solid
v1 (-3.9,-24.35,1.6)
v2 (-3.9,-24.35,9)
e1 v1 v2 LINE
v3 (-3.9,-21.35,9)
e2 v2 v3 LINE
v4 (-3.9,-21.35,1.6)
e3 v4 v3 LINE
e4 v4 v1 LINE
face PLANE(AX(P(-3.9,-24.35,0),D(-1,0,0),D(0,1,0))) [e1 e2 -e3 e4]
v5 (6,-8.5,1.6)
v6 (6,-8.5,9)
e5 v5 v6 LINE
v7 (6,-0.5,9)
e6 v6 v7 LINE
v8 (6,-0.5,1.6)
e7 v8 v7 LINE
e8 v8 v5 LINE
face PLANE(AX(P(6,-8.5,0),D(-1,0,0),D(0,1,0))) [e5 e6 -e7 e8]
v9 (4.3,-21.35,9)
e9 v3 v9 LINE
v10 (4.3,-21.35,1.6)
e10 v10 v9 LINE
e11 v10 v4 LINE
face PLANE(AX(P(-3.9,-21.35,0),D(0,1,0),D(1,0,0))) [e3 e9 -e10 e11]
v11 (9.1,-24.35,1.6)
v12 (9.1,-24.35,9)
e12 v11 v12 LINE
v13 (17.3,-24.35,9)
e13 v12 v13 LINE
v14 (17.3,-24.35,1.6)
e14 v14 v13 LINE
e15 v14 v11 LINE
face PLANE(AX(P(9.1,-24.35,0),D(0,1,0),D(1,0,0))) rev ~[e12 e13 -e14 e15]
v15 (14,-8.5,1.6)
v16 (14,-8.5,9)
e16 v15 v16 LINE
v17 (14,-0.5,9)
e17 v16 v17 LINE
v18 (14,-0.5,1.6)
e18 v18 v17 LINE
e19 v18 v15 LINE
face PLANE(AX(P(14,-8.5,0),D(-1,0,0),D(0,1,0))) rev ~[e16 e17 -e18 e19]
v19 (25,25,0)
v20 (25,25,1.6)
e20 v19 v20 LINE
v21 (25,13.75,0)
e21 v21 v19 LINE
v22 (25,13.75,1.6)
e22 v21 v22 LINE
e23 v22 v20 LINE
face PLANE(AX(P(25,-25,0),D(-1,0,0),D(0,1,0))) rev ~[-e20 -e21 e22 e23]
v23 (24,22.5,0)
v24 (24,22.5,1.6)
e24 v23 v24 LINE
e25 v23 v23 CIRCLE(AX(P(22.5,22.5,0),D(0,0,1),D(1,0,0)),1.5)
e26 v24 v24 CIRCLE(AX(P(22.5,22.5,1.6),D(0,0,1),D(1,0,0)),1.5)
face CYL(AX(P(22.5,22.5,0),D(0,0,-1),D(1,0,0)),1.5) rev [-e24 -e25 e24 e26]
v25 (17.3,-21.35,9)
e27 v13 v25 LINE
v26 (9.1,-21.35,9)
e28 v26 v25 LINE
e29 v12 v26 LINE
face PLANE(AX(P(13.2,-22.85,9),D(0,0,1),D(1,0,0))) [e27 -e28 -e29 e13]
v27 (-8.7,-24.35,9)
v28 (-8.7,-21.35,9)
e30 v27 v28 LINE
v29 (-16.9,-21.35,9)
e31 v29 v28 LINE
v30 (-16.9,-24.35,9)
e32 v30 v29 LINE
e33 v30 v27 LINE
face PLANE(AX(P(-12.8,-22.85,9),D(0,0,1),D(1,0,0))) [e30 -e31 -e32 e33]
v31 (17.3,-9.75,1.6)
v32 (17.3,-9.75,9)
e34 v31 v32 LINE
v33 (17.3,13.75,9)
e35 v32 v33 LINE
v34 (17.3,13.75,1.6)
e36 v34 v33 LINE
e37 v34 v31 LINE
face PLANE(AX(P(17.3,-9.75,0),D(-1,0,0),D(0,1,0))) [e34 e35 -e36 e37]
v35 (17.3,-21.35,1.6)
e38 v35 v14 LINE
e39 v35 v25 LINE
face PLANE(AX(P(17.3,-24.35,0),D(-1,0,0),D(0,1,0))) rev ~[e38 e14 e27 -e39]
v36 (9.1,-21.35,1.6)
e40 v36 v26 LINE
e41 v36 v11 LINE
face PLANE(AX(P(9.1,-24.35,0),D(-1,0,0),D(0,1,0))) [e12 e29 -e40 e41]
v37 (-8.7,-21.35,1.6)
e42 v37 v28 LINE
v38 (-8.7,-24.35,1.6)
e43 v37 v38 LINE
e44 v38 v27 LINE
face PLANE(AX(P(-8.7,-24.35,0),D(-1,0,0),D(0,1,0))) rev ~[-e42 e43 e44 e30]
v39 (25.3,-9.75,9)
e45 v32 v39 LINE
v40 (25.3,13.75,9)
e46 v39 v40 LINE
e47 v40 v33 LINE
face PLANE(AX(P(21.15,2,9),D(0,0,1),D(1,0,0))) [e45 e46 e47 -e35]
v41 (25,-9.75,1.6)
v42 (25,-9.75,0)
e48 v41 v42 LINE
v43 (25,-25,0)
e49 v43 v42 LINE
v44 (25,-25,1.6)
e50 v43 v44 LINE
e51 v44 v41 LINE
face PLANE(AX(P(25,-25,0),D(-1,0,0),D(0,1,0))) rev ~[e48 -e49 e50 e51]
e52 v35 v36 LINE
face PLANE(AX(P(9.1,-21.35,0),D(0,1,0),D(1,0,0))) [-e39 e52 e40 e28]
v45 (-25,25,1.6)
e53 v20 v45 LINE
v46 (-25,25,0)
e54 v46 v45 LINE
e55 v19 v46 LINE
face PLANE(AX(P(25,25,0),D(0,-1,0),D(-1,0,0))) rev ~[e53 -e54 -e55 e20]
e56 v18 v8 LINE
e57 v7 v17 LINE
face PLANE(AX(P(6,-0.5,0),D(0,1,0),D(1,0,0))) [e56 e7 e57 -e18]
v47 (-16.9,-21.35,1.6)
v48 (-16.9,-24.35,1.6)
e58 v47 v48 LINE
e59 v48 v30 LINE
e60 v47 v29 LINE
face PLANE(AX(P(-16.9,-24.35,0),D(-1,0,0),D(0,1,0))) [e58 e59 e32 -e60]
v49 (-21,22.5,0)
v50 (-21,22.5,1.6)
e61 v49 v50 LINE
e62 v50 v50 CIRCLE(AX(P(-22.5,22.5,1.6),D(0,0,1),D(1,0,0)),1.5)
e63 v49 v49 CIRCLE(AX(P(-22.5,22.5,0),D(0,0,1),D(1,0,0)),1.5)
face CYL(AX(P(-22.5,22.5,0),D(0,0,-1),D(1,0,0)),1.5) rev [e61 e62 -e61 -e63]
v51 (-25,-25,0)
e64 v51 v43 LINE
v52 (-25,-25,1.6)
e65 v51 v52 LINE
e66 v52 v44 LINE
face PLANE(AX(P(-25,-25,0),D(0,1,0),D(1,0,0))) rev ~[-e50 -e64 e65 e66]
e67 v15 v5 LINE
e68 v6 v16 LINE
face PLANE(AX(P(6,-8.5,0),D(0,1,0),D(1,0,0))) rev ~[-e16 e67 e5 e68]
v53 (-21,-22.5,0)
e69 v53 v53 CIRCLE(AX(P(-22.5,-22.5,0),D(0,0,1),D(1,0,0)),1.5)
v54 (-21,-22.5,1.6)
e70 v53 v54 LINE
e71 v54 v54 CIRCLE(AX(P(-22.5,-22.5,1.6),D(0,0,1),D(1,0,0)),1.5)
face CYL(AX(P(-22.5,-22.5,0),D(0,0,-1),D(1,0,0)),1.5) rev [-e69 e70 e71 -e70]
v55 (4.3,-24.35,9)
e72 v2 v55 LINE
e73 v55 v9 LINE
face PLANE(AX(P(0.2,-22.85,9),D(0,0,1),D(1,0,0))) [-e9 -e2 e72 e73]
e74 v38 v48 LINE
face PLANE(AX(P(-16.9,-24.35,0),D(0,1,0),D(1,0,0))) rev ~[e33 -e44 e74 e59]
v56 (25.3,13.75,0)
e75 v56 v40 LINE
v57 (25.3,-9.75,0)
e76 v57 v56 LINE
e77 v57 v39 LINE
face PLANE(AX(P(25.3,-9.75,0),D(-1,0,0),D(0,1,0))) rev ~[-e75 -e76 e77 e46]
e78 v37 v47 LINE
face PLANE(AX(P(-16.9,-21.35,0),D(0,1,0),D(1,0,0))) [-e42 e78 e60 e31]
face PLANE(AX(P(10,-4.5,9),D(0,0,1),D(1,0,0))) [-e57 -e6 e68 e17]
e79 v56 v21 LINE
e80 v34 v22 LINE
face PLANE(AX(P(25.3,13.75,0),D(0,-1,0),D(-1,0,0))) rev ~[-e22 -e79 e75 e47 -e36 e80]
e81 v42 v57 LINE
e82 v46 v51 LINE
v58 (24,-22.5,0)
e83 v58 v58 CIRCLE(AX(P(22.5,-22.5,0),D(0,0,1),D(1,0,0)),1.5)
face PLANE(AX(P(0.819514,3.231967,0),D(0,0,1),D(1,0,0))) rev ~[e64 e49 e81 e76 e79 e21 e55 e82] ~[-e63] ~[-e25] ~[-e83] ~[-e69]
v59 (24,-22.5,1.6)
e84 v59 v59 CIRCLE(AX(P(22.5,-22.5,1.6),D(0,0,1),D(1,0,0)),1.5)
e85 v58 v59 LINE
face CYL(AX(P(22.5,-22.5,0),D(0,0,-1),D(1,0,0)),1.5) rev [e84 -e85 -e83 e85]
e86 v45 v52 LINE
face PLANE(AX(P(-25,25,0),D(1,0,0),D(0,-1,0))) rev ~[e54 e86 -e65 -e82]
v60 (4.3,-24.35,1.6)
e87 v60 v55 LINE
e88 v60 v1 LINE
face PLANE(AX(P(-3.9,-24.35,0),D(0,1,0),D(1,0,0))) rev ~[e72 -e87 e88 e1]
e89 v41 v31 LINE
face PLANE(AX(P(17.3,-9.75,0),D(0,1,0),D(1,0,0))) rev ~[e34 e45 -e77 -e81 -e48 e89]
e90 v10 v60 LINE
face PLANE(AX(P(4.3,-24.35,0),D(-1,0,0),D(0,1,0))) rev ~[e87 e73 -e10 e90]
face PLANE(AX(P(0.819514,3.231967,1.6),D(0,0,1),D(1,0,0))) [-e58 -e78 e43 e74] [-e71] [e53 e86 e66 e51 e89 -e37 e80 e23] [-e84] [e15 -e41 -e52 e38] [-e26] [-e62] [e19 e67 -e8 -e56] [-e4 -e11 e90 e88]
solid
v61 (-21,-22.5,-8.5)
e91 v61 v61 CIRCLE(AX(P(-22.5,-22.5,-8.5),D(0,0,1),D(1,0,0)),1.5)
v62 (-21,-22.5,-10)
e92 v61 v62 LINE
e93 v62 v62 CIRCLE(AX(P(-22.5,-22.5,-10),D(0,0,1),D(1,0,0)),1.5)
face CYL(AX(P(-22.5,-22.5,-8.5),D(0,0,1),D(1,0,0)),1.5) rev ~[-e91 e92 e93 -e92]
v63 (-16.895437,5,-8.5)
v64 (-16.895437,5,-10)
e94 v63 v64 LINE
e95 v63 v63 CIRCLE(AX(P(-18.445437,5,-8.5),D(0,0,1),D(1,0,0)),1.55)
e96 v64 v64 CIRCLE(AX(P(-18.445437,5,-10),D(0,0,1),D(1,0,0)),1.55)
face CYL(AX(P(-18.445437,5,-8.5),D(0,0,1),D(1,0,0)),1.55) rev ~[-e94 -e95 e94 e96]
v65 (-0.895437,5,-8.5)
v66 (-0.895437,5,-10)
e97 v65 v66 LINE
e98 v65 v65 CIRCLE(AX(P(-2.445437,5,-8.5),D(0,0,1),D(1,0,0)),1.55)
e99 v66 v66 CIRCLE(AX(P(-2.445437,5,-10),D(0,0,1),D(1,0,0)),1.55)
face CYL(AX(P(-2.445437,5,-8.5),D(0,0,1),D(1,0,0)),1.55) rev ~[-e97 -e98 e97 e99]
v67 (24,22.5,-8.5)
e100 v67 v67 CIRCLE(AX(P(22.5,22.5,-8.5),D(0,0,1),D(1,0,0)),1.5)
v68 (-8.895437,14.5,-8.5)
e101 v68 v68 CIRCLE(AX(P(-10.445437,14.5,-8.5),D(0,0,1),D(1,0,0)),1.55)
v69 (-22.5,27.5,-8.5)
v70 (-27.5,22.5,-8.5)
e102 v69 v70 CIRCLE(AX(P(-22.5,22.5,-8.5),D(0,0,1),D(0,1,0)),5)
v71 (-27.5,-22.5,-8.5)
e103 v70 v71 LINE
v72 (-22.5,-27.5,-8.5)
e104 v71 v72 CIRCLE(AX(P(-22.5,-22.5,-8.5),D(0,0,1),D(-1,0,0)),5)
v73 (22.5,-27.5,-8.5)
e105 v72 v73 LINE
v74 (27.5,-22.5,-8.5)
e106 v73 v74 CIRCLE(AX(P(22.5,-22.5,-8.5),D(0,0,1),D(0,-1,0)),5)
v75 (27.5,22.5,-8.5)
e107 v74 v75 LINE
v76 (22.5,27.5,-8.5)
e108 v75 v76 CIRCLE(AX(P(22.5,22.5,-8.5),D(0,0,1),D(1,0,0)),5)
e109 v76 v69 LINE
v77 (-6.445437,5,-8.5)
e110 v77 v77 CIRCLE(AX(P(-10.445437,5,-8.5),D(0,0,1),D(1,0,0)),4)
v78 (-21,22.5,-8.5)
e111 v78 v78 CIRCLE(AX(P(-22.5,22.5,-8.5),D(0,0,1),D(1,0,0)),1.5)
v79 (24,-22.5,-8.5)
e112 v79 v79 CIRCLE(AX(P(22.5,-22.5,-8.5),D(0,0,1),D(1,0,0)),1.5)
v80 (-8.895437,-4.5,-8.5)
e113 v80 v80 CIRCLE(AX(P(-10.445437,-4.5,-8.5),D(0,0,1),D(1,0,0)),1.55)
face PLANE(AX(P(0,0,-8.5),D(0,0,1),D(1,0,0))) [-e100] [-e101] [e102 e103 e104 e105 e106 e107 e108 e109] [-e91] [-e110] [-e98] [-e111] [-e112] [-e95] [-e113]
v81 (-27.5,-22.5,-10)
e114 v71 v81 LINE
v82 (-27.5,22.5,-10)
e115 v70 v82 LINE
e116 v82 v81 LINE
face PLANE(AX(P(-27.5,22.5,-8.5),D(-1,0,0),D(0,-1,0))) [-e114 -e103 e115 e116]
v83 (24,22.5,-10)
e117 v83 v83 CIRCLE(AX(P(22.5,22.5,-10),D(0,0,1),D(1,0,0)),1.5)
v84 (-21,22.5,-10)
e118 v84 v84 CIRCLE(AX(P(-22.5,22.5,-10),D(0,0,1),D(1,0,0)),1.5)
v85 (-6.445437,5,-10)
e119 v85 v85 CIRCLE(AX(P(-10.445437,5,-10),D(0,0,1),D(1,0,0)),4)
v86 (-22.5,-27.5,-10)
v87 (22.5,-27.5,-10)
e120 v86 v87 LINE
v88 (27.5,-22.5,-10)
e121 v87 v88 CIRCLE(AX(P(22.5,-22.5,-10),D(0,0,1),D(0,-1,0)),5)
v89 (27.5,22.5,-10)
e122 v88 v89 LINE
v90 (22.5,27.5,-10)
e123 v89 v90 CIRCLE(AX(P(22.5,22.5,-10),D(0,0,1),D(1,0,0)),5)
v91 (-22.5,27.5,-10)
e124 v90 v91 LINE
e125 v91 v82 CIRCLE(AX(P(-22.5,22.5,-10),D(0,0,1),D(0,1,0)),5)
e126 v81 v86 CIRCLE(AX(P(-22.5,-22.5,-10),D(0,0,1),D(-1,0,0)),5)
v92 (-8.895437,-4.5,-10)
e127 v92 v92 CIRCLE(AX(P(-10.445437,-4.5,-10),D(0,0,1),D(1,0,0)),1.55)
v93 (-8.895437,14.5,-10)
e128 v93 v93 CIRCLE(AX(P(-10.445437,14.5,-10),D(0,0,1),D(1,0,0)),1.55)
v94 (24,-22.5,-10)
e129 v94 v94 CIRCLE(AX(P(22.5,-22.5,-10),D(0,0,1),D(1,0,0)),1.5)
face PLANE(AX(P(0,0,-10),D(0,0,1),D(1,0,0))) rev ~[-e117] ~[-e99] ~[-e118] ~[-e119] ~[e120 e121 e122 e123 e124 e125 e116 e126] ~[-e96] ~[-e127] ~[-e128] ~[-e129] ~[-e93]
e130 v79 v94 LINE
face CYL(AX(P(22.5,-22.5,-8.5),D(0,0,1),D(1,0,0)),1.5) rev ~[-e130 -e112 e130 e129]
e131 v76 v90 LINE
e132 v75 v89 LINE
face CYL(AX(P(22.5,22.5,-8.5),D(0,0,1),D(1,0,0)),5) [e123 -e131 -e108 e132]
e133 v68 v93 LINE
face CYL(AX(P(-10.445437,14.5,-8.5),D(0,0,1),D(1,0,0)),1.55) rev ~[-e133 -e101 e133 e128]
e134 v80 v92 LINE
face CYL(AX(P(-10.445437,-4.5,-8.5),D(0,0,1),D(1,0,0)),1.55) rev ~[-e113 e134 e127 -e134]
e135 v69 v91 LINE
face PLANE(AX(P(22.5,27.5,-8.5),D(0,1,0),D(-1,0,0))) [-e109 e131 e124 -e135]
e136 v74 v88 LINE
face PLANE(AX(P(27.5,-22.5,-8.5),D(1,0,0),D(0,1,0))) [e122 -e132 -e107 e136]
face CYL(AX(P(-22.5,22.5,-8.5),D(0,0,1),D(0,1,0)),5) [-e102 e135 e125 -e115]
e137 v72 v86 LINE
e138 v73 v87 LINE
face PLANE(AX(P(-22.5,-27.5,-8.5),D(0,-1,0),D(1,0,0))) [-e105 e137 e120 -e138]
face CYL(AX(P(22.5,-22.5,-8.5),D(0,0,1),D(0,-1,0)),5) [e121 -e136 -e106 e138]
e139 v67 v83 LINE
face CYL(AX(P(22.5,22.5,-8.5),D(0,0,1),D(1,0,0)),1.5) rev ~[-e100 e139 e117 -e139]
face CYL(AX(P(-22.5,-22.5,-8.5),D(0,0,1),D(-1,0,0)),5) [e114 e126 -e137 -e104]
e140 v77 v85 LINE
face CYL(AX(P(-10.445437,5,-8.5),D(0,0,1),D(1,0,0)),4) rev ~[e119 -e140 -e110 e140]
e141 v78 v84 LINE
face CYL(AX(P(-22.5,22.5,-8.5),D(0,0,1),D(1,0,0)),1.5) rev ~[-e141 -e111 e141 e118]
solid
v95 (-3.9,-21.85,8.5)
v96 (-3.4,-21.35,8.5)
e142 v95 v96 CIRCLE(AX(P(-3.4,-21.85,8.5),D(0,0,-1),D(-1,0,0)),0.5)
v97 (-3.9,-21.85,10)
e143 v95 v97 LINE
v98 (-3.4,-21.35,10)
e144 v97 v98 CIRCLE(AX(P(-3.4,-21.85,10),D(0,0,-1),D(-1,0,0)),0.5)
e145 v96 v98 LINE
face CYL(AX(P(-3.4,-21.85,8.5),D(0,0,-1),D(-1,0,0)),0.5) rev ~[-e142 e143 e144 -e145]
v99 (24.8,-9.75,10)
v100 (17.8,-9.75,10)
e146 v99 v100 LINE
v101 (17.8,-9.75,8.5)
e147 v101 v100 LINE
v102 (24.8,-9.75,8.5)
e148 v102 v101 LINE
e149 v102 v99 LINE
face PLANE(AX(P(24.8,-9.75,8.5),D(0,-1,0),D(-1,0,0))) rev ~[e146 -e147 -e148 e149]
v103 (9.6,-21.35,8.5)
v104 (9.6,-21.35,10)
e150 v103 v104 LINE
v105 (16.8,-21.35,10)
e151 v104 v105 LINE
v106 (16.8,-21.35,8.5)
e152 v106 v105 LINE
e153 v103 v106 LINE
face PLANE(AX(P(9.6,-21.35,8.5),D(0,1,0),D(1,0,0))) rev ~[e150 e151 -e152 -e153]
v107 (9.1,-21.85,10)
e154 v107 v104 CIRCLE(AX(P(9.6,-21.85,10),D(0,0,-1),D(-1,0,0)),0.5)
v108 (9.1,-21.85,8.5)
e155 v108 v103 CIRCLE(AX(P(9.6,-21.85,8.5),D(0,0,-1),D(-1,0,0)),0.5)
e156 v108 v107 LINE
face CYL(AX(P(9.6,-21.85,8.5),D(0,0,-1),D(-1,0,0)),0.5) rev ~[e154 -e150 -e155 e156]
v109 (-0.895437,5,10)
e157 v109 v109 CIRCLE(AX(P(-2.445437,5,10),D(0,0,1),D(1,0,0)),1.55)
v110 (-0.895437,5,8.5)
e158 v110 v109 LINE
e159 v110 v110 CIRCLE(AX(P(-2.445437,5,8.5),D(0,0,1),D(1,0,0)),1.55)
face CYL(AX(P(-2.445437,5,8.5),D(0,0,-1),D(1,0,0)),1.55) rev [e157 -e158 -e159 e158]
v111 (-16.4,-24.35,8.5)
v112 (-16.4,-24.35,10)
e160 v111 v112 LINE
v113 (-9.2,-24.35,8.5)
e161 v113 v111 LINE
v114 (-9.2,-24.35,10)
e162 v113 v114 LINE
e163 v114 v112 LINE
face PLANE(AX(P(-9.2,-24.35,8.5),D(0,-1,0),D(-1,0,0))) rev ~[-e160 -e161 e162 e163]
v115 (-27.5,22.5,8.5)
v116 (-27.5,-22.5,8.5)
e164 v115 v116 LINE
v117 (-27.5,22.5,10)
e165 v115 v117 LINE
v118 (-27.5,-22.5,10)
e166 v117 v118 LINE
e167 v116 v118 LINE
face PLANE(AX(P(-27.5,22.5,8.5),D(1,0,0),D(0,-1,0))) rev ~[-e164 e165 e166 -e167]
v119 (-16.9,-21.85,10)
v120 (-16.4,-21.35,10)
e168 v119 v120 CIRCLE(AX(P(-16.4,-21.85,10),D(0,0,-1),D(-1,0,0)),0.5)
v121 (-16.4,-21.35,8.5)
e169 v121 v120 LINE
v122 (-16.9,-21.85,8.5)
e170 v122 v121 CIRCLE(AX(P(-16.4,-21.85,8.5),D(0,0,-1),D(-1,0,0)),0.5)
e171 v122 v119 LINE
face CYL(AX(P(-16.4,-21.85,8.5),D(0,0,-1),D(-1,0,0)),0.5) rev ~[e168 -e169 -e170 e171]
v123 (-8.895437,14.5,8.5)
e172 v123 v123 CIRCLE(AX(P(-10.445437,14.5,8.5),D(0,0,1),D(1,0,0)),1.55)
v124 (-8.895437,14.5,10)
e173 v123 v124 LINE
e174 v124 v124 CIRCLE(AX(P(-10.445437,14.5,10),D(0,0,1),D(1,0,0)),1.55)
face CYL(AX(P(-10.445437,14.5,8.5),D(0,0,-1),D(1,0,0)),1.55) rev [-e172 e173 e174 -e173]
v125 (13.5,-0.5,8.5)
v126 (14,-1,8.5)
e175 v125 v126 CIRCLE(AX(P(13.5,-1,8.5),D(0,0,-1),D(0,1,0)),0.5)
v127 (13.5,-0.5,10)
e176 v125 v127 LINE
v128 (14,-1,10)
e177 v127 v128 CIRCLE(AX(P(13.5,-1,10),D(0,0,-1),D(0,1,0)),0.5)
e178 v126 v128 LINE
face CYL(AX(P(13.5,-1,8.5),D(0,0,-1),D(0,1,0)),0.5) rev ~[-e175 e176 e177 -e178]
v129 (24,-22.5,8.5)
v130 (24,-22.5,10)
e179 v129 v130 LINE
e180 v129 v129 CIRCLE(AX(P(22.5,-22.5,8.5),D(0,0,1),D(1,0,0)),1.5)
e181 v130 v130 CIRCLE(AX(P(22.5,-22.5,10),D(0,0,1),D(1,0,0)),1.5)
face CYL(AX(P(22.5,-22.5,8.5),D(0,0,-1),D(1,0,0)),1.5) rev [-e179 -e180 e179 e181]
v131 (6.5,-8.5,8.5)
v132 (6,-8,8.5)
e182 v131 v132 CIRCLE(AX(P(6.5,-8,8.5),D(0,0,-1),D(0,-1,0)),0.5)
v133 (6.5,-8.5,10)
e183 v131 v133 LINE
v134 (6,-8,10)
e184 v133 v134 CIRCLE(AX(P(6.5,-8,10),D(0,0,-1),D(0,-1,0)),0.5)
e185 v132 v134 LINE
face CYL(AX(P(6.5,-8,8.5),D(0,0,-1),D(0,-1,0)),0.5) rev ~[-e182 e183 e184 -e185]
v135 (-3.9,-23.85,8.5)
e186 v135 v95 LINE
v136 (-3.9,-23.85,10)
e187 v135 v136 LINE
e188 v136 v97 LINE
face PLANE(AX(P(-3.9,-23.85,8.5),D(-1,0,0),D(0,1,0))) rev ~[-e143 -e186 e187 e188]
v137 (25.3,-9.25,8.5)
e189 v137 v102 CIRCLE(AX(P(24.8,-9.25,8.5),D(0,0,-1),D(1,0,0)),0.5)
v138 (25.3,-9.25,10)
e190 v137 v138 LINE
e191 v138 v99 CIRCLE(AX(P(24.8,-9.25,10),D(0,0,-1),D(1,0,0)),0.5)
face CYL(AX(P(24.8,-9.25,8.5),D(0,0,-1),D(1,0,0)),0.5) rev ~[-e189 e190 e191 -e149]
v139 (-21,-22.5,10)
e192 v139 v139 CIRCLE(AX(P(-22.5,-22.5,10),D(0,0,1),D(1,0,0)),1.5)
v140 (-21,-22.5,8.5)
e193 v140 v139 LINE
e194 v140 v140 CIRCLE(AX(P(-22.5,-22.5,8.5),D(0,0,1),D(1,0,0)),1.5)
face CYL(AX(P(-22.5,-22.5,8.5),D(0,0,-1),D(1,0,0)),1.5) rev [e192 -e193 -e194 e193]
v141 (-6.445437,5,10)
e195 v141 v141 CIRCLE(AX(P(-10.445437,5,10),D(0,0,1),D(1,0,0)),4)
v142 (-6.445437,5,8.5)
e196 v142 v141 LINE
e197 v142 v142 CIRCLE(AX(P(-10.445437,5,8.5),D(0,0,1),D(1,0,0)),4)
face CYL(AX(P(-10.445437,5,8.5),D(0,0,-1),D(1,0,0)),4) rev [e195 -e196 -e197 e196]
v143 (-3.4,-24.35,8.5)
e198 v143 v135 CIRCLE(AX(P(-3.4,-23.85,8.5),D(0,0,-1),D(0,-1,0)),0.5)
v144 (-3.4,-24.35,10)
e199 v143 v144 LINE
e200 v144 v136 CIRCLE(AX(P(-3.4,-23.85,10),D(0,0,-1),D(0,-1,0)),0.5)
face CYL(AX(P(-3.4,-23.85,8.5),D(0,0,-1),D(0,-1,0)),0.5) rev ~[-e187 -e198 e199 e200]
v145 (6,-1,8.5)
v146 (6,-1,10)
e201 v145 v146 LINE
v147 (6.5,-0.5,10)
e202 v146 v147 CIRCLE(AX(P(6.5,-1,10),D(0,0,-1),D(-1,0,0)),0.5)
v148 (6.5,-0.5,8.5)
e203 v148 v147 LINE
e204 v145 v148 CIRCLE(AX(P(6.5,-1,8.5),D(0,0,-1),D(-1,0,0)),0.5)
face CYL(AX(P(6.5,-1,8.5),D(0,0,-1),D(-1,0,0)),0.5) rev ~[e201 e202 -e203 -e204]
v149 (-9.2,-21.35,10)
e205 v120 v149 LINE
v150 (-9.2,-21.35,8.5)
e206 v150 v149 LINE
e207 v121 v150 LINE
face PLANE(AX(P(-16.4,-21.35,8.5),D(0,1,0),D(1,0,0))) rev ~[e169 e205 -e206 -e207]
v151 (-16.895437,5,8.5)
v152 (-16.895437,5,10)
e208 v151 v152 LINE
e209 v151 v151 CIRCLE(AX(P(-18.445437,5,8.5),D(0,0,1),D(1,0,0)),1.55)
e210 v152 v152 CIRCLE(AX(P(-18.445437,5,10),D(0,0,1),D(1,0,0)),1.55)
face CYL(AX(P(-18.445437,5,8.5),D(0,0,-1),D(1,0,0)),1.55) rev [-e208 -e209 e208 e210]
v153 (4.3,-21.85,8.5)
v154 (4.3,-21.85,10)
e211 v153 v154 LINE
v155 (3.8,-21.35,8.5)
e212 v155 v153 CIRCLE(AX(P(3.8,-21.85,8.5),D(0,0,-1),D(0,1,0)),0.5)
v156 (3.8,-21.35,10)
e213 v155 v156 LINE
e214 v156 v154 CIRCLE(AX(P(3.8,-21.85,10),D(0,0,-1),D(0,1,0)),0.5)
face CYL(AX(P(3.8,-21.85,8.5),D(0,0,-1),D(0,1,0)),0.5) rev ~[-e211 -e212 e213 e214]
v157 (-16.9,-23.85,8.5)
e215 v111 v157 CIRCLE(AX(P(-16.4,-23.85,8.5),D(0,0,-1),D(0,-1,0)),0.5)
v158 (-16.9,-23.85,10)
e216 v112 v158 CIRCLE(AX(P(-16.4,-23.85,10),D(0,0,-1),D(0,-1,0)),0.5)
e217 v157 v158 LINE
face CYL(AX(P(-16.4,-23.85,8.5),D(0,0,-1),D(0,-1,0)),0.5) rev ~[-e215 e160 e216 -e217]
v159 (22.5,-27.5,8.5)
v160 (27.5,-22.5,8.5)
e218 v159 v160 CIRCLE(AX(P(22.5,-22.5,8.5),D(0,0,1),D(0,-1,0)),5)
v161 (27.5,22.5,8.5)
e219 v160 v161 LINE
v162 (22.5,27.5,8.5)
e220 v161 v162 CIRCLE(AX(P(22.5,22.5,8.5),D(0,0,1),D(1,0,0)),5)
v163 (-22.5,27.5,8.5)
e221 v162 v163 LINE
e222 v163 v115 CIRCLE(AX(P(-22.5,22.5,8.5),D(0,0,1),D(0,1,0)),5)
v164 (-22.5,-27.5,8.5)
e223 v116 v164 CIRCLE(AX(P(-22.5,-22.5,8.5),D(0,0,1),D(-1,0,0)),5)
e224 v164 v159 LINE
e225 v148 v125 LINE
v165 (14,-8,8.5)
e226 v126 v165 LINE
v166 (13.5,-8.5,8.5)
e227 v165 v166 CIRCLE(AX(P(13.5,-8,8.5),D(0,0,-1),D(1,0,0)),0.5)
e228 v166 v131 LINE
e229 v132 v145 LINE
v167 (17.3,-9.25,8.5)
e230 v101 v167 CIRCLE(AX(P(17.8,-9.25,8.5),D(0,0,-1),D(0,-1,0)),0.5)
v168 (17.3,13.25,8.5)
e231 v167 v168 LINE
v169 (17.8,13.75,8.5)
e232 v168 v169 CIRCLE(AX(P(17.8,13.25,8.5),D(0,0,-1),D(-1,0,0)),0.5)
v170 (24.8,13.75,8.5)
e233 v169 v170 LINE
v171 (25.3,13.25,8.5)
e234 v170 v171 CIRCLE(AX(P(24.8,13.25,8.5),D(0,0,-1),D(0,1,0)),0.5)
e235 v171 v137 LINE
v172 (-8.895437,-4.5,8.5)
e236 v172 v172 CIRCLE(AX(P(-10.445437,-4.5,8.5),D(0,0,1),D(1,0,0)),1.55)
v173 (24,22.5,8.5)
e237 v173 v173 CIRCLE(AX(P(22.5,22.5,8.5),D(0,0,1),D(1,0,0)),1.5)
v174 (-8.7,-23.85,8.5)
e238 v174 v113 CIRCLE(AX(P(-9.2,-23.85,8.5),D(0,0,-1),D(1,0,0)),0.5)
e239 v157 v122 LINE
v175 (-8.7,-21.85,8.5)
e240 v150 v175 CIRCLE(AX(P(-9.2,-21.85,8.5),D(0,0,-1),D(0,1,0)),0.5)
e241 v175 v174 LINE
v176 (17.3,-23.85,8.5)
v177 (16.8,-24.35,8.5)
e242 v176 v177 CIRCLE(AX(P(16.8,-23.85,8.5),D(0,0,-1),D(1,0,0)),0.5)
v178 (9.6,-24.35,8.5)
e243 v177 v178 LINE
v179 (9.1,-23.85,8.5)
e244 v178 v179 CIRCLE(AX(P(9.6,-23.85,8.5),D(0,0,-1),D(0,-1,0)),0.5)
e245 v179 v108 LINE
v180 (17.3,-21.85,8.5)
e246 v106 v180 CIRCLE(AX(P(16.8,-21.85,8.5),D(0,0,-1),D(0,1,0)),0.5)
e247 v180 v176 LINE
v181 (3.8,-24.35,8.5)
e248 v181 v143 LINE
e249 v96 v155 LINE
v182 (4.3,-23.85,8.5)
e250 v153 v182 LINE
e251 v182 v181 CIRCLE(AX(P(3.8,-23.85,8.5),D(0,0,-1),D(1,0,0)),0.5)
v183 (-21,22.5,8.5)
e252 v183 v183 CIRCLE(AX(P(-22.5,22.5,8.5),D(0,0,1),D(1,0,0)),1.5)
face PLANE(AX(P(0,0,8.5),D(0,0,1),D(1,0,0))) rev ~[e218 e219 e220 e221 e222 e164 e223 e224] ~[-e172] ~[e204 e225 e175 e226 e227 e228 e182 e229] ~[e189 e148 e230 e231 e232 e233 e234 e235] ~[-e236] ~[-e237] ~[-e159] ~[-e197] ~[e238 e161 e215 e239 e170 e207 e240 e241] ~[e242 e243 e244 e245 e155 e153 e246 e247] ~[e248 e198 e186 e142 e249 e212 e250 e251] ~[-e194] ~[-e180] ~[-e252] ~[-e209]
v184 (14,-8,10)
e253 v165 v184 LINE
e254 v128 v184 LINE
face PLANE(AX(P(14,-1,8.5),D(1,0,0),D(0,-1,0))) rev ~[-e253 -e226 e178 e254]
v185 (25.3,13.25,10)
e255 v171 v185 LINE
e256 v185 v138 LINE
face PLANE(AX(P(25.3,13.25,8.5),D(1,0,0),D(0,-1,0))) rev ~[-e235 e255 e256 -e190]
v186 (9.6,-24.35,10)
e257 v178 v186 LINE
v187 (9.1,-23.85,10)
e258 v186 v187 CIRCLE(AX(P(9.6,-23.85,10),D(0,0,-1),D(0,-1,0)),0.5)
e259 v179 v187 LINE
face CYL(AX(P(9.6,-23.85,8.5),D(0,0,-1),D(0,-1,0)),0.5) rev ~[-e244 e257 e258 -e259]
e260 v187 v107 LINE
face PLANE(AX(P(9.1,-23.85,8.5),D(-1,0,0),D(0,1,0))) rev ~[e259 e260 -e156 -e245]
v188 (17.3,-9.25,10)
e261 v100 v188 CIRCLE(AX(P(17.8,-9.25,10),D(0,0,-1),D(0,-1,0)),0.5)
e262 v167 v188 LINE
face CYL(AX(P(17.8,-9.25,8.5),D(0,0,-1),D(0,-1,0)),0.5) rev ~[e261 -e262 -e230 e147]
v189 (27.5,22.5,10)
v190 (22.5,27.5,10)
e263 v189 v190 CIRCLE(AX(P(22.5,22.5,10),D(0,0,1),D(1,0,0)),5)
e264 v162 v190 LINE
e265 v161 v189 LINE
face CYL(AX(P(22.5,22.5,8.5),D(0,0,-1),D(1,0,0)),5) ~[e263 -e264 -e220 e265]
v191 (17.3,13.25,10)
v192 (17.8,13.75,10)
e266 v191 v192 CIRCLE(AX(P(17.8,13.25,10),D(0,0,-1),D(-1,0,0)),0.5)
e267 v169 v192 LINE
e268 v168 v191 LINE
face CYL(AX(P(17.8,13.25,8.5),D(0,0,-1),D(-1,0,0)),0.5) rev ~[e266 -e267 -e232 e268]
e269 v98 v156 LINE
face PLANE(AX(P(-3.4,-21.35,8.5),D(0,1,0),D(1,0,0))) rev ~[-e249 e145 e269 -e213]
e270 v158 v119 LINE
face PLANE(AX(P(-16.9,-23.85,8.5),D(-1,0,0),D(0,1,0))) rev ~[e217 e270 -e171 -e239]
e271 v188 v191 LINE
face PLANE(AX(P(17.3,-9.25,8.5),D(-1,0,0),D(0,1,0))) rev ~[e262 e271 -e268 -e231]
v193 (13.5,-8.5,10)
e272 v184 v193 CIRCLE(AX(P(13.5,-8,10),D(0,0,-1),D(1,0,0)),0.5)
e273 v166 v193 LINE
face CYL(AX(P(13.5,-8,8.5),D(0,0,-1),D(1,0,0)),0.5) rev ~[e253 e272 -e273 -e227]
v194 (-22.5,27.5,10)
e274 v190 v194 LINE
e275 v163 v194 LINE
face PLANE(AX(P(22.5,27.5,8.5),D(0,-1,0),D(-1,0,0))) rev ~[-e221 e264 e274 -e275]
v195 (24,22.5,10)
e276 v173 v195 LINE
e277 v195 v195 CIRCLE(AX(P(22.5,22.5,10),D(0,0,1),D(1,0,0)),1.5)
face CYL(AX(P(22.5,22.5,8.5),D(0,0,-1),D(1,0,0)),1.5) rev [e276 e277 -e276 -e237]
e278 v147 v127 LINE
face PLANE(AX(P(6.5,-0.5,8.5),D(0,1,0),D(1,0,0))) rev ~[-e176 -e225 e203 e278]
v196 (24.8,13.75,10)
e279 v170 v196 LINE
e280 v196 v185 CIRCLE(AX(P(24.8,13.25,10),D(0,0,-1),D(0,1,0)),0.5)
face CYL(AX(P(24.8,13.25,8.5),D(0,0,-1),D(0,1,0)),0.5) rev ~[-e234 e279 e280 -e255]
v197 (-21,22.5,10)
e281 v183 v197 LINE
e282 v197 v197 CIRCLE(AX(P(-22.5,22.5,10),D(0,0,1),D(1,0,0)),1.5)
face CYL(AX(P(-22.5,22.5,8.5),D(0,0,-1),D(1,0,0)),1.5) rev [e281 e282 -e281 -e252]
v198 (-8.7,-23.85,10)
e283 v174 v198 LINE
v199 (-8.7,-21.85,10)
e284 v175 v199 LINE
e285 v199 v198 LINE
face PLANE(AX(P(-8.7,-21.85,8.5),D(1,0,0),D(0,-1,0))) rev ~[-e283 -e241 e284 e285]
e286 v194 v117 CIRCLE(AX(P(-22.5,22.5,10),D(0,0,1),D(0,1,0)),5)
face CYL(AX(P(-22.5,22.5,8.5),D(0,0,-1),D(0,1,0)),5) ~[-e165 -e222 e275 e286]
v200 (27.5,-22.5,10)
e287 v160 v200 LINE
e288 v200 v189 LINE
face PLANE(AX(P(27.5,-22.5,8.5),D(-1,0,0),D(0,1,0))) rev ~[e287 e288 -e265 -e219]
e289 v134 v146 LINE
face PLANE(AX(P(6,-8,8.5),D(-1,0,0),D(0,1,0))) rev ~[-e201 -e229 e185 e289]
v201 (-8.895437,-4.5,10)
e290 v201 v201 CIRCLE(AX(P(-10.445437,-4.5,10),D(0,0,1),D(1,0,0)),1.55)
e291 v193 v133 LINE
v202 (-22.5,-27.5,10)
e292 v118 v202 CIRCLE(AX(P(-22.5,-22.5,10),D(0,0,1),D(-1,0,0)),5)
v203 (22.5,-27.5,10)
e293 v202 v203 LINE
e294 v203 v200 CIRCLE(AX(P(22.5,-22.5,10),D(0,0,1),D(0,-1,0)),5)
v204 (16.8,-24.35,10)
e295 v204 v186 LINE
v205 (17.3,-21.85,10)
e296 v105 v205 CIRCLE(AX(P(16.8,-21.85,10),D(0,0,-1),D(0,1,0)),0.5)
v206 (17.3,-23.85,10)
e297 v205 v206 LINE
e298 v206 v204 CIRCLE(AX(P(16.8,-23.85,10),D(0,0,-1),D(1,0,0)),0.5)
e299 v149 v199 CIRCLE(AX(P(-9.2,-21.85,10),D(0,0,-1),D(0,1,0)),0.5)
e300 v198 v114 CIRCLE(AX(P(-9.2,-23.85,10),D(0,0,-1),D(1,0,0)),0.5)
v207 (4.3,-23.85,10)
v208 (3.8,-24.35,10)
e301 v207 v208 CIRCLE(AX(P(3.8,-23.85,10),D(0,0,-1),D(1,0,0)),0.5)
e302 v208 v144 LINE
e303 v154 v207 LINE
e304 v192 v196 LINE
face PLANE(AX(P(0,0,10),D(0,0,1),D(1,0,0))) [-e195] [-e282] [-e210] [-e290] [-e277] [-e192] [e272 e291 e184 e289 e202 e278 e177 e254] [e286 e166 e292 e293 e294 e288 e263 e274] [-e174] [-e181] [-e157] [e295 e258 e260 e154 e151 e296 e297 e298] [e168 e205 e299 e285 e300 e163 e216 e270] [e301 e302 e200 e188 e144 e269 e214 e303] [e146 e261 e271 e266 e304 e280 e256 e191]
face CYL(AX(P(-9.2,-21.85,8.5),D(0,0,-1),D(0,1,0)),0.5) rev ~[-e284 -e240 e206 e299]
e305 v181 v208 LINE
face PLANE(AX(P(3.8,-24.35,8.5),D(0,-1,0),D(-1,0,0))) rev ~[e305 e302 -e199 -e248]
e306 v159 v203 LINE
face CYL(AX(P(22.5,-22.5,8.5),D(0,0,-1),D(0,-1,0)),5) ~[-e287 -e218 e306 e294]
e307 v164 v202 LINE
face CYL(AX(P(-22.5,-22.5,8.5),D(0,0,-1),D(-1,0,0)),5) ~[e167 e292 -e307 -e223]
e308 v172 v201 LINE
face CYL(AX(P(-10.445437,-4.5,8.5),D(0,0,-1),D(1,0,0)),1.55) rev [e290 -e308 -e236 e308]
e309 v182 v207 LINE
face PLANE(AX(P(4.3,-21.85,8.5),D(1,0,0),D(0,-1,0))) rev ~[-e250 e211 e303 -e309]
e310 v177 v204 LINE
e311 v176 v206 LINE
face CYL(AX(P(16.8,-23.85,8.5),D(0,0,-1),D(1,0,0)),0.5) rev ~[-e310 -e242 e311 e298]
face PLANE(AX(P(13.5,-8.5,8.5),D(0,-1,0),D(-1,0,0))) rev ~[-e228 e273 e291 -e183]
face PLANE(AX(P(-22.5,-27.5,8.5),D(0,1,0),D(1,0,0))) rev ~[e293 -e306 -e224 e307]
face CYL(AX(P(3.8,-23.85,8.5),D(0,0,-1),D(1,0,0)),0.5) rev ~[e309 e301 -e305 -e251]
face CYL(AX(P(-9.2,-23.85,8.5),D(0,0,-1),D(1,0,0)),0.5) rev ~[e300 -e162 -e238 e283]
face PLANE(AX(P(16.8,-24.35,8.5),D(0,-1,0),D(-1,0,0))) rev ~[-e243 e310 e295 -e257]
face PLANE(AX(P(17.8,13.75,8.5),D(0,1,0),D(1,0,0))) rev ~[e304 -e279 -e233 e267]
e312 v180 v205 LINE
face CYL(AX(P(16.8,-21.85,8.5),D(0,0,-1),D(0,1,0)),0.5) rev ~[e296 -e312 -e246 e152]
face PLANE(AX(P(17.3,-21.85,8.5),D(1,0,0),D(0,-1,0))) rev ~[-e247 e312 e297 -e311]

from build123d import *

# Parameters (mm, degrees)
F0_R     = 1.5
F0_W     = 8.2
F0_H     = 3
F0_W_2   = 8
F0_H_2   = 8
F0_H_3   = 10
F0_H_4   = 7
F0_W_3   = 6.5
F0_W_4   = 7.7
F0_H_5   = 23.5
F1_DEPTH = 1.6
F0_W_5   = 0.3
F2_DEPTH = 9
F4_START = 8.5
F3_R     = 1.5
F3_R_2   = 1.55
F3_R_3   = 4
F4_DEPTH = 1.5
F5_START = -8.5
F5_DEPTH = 1.5


with BuildPart() as f1:
    # F0 (on Top) → F1 (new body)
    with BuildSketch(Plane.XY):
        Polygon((-17.7, 25), (-25, 25), (-25, -25), (25, -25), (25, -9.75), (17.3, -9.75), (17.3, 13.75), (25, 13.75), (25, 25), (19.55, 25), (19.55, 18), (13.05, 18), (13.05, 25), (12.35, 25), (12.35, 18), (4.35, 18), (4.35, 25), (-9.7, 25), (-9.7, 15), (-17.7, 15), align=None)
        with Locations((-22.5, -22.5)):
            Circle(F0_R, mode=Mode.SUBTRACT)
        with Locations((-12.8, -22.85)):
            Rectangle(F0_W, F0_H, mode=Mode.SUBTRACT)
        with Locations((0.2, -22.85)):
            Rectangle(F0_W, F0_H, mode=Mode.SUBTRACT)
        with Locations((13.2, -22.85)):
            Rectangle(F0_W, F0_H, mode=Mode.SUBTRACT)
        with Locations((22.5, -22.5)):
            Circle(F0_R, mode=Mode.SUBTRACT)
        with Locations((10, -4.5)):
            Rectangle(F0_W_2, F0_H_2, mode=Mode.SUBTRACT)
        with Locations((-22.5, 22.5)):
            Circle(F0_R, mode=Mode.SUBTRACT)
        with Locations((22.5, 22.5)):
            Circle(F0_R, mode=Mode.SUBTRACT)
        with Locations((-13.7, 20)):
            Rectangle(F0_W_2, F0_H_3)
        with Locations((8.35, 21.5)):
            Rectangle(F0_W_2, F0_H_4)
        with Locations((16.3, 21.5)):
            Rectangle(F0_W_3, F0_H_4)
        with Locations((21.15, 2)):
            Rectangle(F0_W_4, F0_H_5)
        with Locations((10, -4.5)):
            Rectangle(F0_W_2, F0_H_2)
        with Locations((0.2, -22.85)):
            Rectangle(F0_W, F0_H)
        with Locations((-12.8, -22.85)):
            Rectangle(F0_W, F0_H)
        with Locations((13.2, -22.85)):
            Rectangle(F0_W, F0_H)
    extrude(amount=F1_DEPTH)

    # F0 (on Top) → F2 (join)
    with BuildSketch(Plane.XY):
        with Locations((21.15, 2)):
            Rectangle(F0_W_4, F0_H_5)
        with Locations((10, -4.5)):
            Rectangle(F0_W_2, F0_H_2)
        with Locations((13.2, -22.85)):
            Rectangle(F0_W, F0_H)
        with Locations((0.2, -22.85)):
            Rectangle(F0_W, F0_H)
        with Locations((-12.8, -22.85)):
            Rectangle(F0_W, F0_H)
        with Locations((25.15, 2)):
            Rectangle(F0_W_5, F0_H_5)
    extrude(amount=F2_DEPTH)


with BuildPart() as f4:
    # F3 (on Top) → F4 (new body)
    with BuildSketch(Plane.XY.offset(F4_START)):
        with BuildLine():
            Line((22.5, 27.5), (-22.5, 27.5))
            ThreePointArc((-22.5, 27.5), (-26.0355339059, 26.0355339059), (-27.5, 22.5))
            Line((-27.5, 22.5), (-27.5, -22.5))
            ThreePointArc((-27.5, -22.5), (-26.0355339059, -26.0355339059), (-22.5, -27.5))
            Line((-22.5, -27.5), (22.5, -27.5))
            ThreePointArc((22.5, -27.5), (26.0355339059, -26.0355339059), (27.5, -22.5))
            Line((27.5, -22.5), (27.5, 22.5))
            ThreePointArc((27.5, 22.5), (26.0355339059, 26.0355339059), (22.5, 27.5))
        make_face()
        with Locations((-22.5, -22.5)):
            Circle(F3_R, mode=Mode.SUBTRACT)
        with BuildLine():
            Line((-16.9, -23.85), (-16.9, -21.85))
            ThreePointArc((-16.9, -21.85), (-16.7535533906, -21.4964466094), (-16.4, -21.35))
            Line((-16.4, -21.35), (-9.2, -21.35))
            ThreePointArc((-9.2, -21.35), (-8.8464466094, -21.4964466094), (-8.7, -21.85))
            Line((-8.7, -21.85), (-8.7, -23.85))
            ThreePointArc((-8.7, -23.85), (-8.8464466094, -24.2035533906), (-9.2, -24.35))
            Line((-9.2, -24.35), (-16.4, -24.35))
            ThreePointArc((-16.4, -24.35), (-16.7535533906, -24.2035533906), (-16.9, -23.85))
        make_face(mode=Mode.SUBTRACT)
        with Locations((-10.4454365488, -4.5)):
            Circle(F3_R_2, mode=Mode.SUBTRACT)
        with BuildLine():
            Line((4.3, -21.85), (4.3, -23.85))
            ThreePointArc((4.3, -23.85), (4.1535533906, -24.2035533906), (3.8, -24.35))
            Line((3.8, -24.35), (-3.4, -24.35))
            ThreePointArc((-3.4, -24.35), (-3.7535533906, -24.2035533906), (-3.9, -23.85))
            Line((-3.9, -23.85), (-3.9, -21.85))
            ThreePointArc((-3.9, -21.85), (-3.7535533906, -21.4964466094), (-3.4, -21.35))
            Line((-3.4, -21.35), (3.8, -21.35))
            ThreePointArc((3.8, -21.35), (4.1535533906, -21.4964466094), (4.3, -21.85))
        make_face(mode=Mode.SUBTRACT)
        with BuildLine():
            Line((17.3, -21.85), (17.3, -23.85))
            ThreePointArc((17.3, -23.85), (17.1535533906, -24.2035533906), (16.8, -24.35))
            Line((16.8, -24.35), (9.6, -24.35))
            ThreePointArc((9.6, -24.35), (9.2464466094, -24.2035533906), (9.1, -23.85))
            Line((9.1, -23.85), (9.1, -21.85))
            ThreePointArc((9.1, -21.85), (9.2464466094, -21.4964466094), (9.6, -21.35))
            Line((9.6, -21.35), (16.8, -21.35))
            ThreePointArc((16.8, -21.35), (17.1535533906, -21.4964466094), (17.3, -21.85))
        make_face(mode=Mode.SUBTRACT)
        with Locations((22.5, -22.5)):
            Circle(F3_R, mode=Mode.SUBTRACT)
        with BuildLine():
            Line((6, -8), (6, -1))
            ThreePointArc((6, -1), (6.1464466094, -0.6464466094), (6.5, -0.5))
            Line((6.5, -0.5), (13.5, -0.5))
            ThreePointArc((13.5, -0.5), (13.8535533906, -0.6464466094), (14, -1))
            Line((14, -1), (14, -8))
            ThreePointArc((14, -8), (13.8535533906, -8.3535533906), (13.5, -8.5))
            Line((13.5, -8.5), (6.5, -8.5))
            ThreePointArc((6.5, -8.5), (6.1464466094, -8.3535533906), (6, -8))
        make_face(mode=Mode.SUBTRACT)
        with Locations((-18.4454365488, 5)):
            Circle(F3_R_2, mode=Mode.SUBTRACT)
        with Locations((-10.4454365488, 5)):
            Circle(F3_R_3, mode=Mode.SUBTRACT)
        with Locations((-2.4454365488, 5)):
            Circle(F3_R_2, mode=Mode.SUBTRACT)
        with Locations((-22.5, 22.5)):
            Circle(F3_R, mode=Mode.SUBTRACT)
        with Locations((-10.4454365488, 14.5)):
            Circle(F3_R_2, mode=Mode.SUBTRACT)
        with BuildLine():
            Line((24.8, -9.75), (17.8, -9.75))
            ThreePointArc((17.8, -9.75), (17.4464466094, -9.6035533906), (17.3, -9.25))
            Line((17.3, -9.25), (17.3, 13.25))
            ThreePointArc((17.3, 13.25), (17.4464466094, 13.6035533906), (17.8, 13.75))
            Line((17.8, 13.75), (24.8, 13.75))
            ThreePointArc((24.8, 13.75), (25.1535533906, 13.6035533906), (25.3, 13.25))
            Line((25.3, 13.25), (25.3, -9.25))
            ThreePointArc((25.3, -9.25), (25.1535533906, -9.6035533906), (24.8, -9.75))
        make_face(mode=Mode.SUBTRACT)
        with Locations((22.5, 22.5)):
            Circle(F3_R, mode=Mode.SUBTRACT)
    extrude(amount=F4_DEPTH)


with BuildPart() as f5:
    # F3 (on Top) → F5 (new body)
    with BuildSketch(Plane.XY.offset(F5_START)):
        with BuildLine():
            Line((22.5, 27.5), (-22.5, 27.5))
            ThreePointArc((-22.5, 27.5), (-26.0355339059, 26.0355339059), (-27.5, 22.5))
            Line((-27.5, 22.5), (-27.5, -22.5))
            ThreePointArc((-27.5, -22.5), (-26.0355339059, -26.0355339059), (-22.5, -27.5))
            Line((-22.5, -27.5), (22.5, -27.5))
            ThreePointArc((22.5, -27.5), (26.0355339059, -26.0355339059), (27.5, -22.5))
            Line((27.5, -22.5), (27.5, 22.5))
            ThreePointArc((27.5, 22.5), (26.0355339059, 26.0355339059), (22.5, 27.5))
        make_face()
        with Locations((-22.5, -22.5)):
            Circle(F3_R, mode=Mode.SUBTRACT)
        with BuildLine():
            Line((-16.9, -23.85), (-16.9, -21.85))
            ThreePointArc((-16.9, -21.85), (-16.7535533906, -21.4964466094), (-16.4, -21.35))
            Line((-16.4, -21.35), (-9.2, -21.35))
            ThreePointArc((-9.2, -21.35), (-8.8464466094, -21.4964466094), (-8.7, -21.85))
            Line((-8.7, -21.85), (-8.7, -23.85))
            ThreePointArc((-8.7, -23.85), (-8.8464466094, -24.2035533906), (-9.2, -24.35))
            Line((-9.2, -24.35), (-16.4, -24.35))
            ThreePointArc((-16.4, -24.35), (-16.7535533906, -24.2035533906), (-16.9, -23.85))
        make_face(mode=Mode.SUBTRACT)
        with Locations((-10.4454365488, -4.5)):
            Circle(F3_R_2, mode=Mode.SUBTRACT)
        with BuildLine():
            Line((4.3, -21.85), (4.3, -23.85))
            ThreePointArc((4.3, -23.85), (4.1535533906, -24.2035533906), (3.8, -24.35))
            Line((3.8, -24.35), (-3.4, -24.35))
            ThreePointArc((-3.4, -24.35), (-3.7535533906, -24.2035533906), (-3.9, -23.85))
            Line((-3.9, -23.85), (-3.9, -21.85))
            ThreePointArc((-3.9, -21.85), (-3.7535533906, -21.4964466094), (-3.4, -21.35))
            Line((-3.4, -21.35), (3.8, -21.35))
            ThreePointArc((3.8, -21.35), (4.1535533906, -21.4964466094), (4.3, -21.85))
        make_face(mode=Mode.SUBTRACT)
        with BuildLine():
            Line((17.3, -21.85), (17.3, -23.85))
            ThreePointArc((17.3, -23.85), (17.1535533906, -24.2035533906), (16.8, -24.35))
            Line((16.8, -24.35), (9.6, -24.35))
            ThreePointArc((9.6, -24.35), (9.2464466094, -24.2035533906), (9.1, -23.85))
            Line((9.1, -23.85), (9.1, -21.85))
            ThreePointArc((9.1, -21.85), (9.2464466094, -21.4964466094), (9.6, -21.35))
            Line((9.6, -21.35), (16.8, -21.35))
            ThreePointArc((16.8, -21.35), (17.1535533906, -21.4964466094), (17.3, -21.85))
        make_face(mode=Mode.SUBTRACT)
        with Locations((22.5, -22.5)):
            Circle(F3_R, mode=Mode.SUBTRACT)
        with BuildLine():
            Line((6, -8), (6, -1))
            ThreePointArc((6, -1), (6.1464466094, -0.6464466094), (6.5, -0.5))
            Line((6.5, -0.5), (13.5, -0.5))
            ThreePointArc((13.5, -0.5), (13.8535533906, -0.6464466094), (14, -1))
            Line((14, -1), (14, -8))
            ThreePointArc((14, -8), (13.8535533906, -8.3535533906), (13.5, -8.5))
            Line((13.5, -8.5), (6.5, -8.5))
            ThreePointArc((6.5, -8.5), (6.1464466094, -8.3535533906), (6, -8))
        make_face(mode=Mode.SUBTRACT)
        with Locations((-18.4454365488, 5)):
            Circle(F3_R_2, mode=Mode.SUBTRACT)
        with Locations((-10.4454365488, 5)):
            Circle(F3_R_3, mode=Mode.SUBTRACT)
        with Locations((-2.4454365488, 5)):
            Circle(F3_R_2, mode=Mode.SUBTRACT)
        with Locations((-22.5, 22.5)):
            Circle(F3_R, mode=Mode.SUBTRACT)
        with Locations((-10.4454365488, 14.5)):
            Circle(F3_R_2, mode=Mode.SUBTRACT)
        with BuildLine():
            Line((24.8, -9.75), (17.8, -9.75))
            ThreePointArc((17.8, -9.75), (17.4464466094, -9.6035533906), (17.3, -9.25))
            Line((17.3, -9.25), (17.3, 13.25))
            ThreePointArc((17.3, 13.25), (17.4464466094, 13.6035533906), (17.8, 13.75))
            Line((17.8, 13.75), (24.8, 13.75))
            ThreePointArc((24.8, 13.75), (25.1535533906, 13.6035533906), (25.3, 13.25))
            Line((25.3, 13.25), (25.3, -9.25))
            ThreePointArc((25.3, -9.25), (25.1535533906, -9.6035533906), (24.8, -9.75))
        make_face(mode=Mode.SUBTRACT)
        with Locations((22.5, 22.5)):
            Circle(F3_R, mode=Mode.SUBTRACT)
        with BuildLine():
            ThreePointArc((17.3, -9.25), (17.4464466094, -9.6035533906), (17.8, -9.75))
            Line((17.8, -9.75), (24.8, -9.75))
            ThreePointArc((24.8, -9.75), (25.1535533906, -9.6035533906), (25.3, -9.25))
            Line((25.3, -9.25), (25.3, 13.25))
            ThreePointArc((25.3, 13.25), (25.1535533906, 13.6035533906), (24.8, 13.75))
            Line((24.8, 13.75), (17.8, 13.75))
            ThreePointArc((17.8, 13.75), (17.4464466094, 13.6035533906), (17.3, 13.25))
            Line((17.3, 13.25), (17.3, -9.25))
        make_face()
        with BuildLine():
            ThreePointArc((6.5, -0.5), (6.1464466094, -0.6464466094), (6, -1))
            Line((6, -1), (6, -8))
            ThreePointArc((6, -8), (6.1464466094, -8.3535533906), (6.5, -8.5))
            Line((6.5, -8.5), (13.5, -8.5))
            ThreePointArc((13.5, -8.5), (13.8535533906, -8.3535533906), (14, -8))
            Line((14, -8), (14, -1))
            ThreePointArc((14, -1), (13.8535533906, -0.6464466094), (13.5, -0.5))
            Line((13.5, -0.5), (6.5, -0.5))
        make_face()
        with BuildLine():
            ThreePointArc((16.8, -24.35), (17.1535533906, -24.2035533906), (17.3, -23.85))
            Line((17.3, -23.85), (17.3, -21.85))
            ThreePointArc((17.3, -21.85), (17.1535533906, -21.4964466094), (16.8, -21.35))
            Line((16.8, -21.35), (9.6, -21.35))
            ThreePointArc((9.6, -21.35), (9.2464466094, -21.4964466094), (9.1, -21.85))
            Line((9.1, -21.85), (9.1, -23.85))
            ThreePointArc((9.1, -23.85), (9.2464466094, -24.2035533906), (9.6, -24.35))
            Line((9.6, -24.35), (16.8, -24.35))
        make_face()
        with BuildLine():
            ThreePointArc((3.8, -24.35), (4.1535533906, -24.2035533906), (4.3, -23.85))
            Line((4.3, -23.85), (4.3, -21.85))
            ThreePointArc((4.3, -21.85), (4.1535533906, -21.4964466094), (3.8, -21.35))
            Line((3.8, -21.35), (-3.4, -21.35))
            ThreePointArc((-3.4, -21.35), (-3.7535533906, -21.4964466094), (-3.9, -21.85))
            Line((-3.9, -21.85), (-3.9, -23.85))
            ThreePointArc((-3.9, -23.85), (-3.7535533906, -24.2035533906), (-3.4, -24.35))
            Line((-3.4, -24.35), (3.8, -24.35))
        make_face()
        with BuildLine():
            ThreePointArc((-16.4, -21.35), (-16.7535533906, -21.4964466094), (-16.9, -21.85))
            Line((-16.9, -21.85), (-16.9, -23.85))
            ThreePointArc((-16.9, -23.85), (-16.7535533906, -24.2035533906), (-16.4, -24.35))
            Line((-16.4, -24.35), (-9.2, -24.35))
            ThreePointArc((-9.2, -24.35), (-8.8464466094, -24.2035533906), (-8.7, -23.85))
            Line((-8.7, -23.85), (-8.7, -21.85))
            ThreePointArc((-8.7, -21.85), (-8.8464466094, -21.4964466094), (-9.2, -21.35))
            Line((-9.2, -21.35), (-16.4, -21.35))
        make_face()
    extrude(amount=-F5_DEPTH)


solid = Compound([f1.part, f4.part, f5.part])
